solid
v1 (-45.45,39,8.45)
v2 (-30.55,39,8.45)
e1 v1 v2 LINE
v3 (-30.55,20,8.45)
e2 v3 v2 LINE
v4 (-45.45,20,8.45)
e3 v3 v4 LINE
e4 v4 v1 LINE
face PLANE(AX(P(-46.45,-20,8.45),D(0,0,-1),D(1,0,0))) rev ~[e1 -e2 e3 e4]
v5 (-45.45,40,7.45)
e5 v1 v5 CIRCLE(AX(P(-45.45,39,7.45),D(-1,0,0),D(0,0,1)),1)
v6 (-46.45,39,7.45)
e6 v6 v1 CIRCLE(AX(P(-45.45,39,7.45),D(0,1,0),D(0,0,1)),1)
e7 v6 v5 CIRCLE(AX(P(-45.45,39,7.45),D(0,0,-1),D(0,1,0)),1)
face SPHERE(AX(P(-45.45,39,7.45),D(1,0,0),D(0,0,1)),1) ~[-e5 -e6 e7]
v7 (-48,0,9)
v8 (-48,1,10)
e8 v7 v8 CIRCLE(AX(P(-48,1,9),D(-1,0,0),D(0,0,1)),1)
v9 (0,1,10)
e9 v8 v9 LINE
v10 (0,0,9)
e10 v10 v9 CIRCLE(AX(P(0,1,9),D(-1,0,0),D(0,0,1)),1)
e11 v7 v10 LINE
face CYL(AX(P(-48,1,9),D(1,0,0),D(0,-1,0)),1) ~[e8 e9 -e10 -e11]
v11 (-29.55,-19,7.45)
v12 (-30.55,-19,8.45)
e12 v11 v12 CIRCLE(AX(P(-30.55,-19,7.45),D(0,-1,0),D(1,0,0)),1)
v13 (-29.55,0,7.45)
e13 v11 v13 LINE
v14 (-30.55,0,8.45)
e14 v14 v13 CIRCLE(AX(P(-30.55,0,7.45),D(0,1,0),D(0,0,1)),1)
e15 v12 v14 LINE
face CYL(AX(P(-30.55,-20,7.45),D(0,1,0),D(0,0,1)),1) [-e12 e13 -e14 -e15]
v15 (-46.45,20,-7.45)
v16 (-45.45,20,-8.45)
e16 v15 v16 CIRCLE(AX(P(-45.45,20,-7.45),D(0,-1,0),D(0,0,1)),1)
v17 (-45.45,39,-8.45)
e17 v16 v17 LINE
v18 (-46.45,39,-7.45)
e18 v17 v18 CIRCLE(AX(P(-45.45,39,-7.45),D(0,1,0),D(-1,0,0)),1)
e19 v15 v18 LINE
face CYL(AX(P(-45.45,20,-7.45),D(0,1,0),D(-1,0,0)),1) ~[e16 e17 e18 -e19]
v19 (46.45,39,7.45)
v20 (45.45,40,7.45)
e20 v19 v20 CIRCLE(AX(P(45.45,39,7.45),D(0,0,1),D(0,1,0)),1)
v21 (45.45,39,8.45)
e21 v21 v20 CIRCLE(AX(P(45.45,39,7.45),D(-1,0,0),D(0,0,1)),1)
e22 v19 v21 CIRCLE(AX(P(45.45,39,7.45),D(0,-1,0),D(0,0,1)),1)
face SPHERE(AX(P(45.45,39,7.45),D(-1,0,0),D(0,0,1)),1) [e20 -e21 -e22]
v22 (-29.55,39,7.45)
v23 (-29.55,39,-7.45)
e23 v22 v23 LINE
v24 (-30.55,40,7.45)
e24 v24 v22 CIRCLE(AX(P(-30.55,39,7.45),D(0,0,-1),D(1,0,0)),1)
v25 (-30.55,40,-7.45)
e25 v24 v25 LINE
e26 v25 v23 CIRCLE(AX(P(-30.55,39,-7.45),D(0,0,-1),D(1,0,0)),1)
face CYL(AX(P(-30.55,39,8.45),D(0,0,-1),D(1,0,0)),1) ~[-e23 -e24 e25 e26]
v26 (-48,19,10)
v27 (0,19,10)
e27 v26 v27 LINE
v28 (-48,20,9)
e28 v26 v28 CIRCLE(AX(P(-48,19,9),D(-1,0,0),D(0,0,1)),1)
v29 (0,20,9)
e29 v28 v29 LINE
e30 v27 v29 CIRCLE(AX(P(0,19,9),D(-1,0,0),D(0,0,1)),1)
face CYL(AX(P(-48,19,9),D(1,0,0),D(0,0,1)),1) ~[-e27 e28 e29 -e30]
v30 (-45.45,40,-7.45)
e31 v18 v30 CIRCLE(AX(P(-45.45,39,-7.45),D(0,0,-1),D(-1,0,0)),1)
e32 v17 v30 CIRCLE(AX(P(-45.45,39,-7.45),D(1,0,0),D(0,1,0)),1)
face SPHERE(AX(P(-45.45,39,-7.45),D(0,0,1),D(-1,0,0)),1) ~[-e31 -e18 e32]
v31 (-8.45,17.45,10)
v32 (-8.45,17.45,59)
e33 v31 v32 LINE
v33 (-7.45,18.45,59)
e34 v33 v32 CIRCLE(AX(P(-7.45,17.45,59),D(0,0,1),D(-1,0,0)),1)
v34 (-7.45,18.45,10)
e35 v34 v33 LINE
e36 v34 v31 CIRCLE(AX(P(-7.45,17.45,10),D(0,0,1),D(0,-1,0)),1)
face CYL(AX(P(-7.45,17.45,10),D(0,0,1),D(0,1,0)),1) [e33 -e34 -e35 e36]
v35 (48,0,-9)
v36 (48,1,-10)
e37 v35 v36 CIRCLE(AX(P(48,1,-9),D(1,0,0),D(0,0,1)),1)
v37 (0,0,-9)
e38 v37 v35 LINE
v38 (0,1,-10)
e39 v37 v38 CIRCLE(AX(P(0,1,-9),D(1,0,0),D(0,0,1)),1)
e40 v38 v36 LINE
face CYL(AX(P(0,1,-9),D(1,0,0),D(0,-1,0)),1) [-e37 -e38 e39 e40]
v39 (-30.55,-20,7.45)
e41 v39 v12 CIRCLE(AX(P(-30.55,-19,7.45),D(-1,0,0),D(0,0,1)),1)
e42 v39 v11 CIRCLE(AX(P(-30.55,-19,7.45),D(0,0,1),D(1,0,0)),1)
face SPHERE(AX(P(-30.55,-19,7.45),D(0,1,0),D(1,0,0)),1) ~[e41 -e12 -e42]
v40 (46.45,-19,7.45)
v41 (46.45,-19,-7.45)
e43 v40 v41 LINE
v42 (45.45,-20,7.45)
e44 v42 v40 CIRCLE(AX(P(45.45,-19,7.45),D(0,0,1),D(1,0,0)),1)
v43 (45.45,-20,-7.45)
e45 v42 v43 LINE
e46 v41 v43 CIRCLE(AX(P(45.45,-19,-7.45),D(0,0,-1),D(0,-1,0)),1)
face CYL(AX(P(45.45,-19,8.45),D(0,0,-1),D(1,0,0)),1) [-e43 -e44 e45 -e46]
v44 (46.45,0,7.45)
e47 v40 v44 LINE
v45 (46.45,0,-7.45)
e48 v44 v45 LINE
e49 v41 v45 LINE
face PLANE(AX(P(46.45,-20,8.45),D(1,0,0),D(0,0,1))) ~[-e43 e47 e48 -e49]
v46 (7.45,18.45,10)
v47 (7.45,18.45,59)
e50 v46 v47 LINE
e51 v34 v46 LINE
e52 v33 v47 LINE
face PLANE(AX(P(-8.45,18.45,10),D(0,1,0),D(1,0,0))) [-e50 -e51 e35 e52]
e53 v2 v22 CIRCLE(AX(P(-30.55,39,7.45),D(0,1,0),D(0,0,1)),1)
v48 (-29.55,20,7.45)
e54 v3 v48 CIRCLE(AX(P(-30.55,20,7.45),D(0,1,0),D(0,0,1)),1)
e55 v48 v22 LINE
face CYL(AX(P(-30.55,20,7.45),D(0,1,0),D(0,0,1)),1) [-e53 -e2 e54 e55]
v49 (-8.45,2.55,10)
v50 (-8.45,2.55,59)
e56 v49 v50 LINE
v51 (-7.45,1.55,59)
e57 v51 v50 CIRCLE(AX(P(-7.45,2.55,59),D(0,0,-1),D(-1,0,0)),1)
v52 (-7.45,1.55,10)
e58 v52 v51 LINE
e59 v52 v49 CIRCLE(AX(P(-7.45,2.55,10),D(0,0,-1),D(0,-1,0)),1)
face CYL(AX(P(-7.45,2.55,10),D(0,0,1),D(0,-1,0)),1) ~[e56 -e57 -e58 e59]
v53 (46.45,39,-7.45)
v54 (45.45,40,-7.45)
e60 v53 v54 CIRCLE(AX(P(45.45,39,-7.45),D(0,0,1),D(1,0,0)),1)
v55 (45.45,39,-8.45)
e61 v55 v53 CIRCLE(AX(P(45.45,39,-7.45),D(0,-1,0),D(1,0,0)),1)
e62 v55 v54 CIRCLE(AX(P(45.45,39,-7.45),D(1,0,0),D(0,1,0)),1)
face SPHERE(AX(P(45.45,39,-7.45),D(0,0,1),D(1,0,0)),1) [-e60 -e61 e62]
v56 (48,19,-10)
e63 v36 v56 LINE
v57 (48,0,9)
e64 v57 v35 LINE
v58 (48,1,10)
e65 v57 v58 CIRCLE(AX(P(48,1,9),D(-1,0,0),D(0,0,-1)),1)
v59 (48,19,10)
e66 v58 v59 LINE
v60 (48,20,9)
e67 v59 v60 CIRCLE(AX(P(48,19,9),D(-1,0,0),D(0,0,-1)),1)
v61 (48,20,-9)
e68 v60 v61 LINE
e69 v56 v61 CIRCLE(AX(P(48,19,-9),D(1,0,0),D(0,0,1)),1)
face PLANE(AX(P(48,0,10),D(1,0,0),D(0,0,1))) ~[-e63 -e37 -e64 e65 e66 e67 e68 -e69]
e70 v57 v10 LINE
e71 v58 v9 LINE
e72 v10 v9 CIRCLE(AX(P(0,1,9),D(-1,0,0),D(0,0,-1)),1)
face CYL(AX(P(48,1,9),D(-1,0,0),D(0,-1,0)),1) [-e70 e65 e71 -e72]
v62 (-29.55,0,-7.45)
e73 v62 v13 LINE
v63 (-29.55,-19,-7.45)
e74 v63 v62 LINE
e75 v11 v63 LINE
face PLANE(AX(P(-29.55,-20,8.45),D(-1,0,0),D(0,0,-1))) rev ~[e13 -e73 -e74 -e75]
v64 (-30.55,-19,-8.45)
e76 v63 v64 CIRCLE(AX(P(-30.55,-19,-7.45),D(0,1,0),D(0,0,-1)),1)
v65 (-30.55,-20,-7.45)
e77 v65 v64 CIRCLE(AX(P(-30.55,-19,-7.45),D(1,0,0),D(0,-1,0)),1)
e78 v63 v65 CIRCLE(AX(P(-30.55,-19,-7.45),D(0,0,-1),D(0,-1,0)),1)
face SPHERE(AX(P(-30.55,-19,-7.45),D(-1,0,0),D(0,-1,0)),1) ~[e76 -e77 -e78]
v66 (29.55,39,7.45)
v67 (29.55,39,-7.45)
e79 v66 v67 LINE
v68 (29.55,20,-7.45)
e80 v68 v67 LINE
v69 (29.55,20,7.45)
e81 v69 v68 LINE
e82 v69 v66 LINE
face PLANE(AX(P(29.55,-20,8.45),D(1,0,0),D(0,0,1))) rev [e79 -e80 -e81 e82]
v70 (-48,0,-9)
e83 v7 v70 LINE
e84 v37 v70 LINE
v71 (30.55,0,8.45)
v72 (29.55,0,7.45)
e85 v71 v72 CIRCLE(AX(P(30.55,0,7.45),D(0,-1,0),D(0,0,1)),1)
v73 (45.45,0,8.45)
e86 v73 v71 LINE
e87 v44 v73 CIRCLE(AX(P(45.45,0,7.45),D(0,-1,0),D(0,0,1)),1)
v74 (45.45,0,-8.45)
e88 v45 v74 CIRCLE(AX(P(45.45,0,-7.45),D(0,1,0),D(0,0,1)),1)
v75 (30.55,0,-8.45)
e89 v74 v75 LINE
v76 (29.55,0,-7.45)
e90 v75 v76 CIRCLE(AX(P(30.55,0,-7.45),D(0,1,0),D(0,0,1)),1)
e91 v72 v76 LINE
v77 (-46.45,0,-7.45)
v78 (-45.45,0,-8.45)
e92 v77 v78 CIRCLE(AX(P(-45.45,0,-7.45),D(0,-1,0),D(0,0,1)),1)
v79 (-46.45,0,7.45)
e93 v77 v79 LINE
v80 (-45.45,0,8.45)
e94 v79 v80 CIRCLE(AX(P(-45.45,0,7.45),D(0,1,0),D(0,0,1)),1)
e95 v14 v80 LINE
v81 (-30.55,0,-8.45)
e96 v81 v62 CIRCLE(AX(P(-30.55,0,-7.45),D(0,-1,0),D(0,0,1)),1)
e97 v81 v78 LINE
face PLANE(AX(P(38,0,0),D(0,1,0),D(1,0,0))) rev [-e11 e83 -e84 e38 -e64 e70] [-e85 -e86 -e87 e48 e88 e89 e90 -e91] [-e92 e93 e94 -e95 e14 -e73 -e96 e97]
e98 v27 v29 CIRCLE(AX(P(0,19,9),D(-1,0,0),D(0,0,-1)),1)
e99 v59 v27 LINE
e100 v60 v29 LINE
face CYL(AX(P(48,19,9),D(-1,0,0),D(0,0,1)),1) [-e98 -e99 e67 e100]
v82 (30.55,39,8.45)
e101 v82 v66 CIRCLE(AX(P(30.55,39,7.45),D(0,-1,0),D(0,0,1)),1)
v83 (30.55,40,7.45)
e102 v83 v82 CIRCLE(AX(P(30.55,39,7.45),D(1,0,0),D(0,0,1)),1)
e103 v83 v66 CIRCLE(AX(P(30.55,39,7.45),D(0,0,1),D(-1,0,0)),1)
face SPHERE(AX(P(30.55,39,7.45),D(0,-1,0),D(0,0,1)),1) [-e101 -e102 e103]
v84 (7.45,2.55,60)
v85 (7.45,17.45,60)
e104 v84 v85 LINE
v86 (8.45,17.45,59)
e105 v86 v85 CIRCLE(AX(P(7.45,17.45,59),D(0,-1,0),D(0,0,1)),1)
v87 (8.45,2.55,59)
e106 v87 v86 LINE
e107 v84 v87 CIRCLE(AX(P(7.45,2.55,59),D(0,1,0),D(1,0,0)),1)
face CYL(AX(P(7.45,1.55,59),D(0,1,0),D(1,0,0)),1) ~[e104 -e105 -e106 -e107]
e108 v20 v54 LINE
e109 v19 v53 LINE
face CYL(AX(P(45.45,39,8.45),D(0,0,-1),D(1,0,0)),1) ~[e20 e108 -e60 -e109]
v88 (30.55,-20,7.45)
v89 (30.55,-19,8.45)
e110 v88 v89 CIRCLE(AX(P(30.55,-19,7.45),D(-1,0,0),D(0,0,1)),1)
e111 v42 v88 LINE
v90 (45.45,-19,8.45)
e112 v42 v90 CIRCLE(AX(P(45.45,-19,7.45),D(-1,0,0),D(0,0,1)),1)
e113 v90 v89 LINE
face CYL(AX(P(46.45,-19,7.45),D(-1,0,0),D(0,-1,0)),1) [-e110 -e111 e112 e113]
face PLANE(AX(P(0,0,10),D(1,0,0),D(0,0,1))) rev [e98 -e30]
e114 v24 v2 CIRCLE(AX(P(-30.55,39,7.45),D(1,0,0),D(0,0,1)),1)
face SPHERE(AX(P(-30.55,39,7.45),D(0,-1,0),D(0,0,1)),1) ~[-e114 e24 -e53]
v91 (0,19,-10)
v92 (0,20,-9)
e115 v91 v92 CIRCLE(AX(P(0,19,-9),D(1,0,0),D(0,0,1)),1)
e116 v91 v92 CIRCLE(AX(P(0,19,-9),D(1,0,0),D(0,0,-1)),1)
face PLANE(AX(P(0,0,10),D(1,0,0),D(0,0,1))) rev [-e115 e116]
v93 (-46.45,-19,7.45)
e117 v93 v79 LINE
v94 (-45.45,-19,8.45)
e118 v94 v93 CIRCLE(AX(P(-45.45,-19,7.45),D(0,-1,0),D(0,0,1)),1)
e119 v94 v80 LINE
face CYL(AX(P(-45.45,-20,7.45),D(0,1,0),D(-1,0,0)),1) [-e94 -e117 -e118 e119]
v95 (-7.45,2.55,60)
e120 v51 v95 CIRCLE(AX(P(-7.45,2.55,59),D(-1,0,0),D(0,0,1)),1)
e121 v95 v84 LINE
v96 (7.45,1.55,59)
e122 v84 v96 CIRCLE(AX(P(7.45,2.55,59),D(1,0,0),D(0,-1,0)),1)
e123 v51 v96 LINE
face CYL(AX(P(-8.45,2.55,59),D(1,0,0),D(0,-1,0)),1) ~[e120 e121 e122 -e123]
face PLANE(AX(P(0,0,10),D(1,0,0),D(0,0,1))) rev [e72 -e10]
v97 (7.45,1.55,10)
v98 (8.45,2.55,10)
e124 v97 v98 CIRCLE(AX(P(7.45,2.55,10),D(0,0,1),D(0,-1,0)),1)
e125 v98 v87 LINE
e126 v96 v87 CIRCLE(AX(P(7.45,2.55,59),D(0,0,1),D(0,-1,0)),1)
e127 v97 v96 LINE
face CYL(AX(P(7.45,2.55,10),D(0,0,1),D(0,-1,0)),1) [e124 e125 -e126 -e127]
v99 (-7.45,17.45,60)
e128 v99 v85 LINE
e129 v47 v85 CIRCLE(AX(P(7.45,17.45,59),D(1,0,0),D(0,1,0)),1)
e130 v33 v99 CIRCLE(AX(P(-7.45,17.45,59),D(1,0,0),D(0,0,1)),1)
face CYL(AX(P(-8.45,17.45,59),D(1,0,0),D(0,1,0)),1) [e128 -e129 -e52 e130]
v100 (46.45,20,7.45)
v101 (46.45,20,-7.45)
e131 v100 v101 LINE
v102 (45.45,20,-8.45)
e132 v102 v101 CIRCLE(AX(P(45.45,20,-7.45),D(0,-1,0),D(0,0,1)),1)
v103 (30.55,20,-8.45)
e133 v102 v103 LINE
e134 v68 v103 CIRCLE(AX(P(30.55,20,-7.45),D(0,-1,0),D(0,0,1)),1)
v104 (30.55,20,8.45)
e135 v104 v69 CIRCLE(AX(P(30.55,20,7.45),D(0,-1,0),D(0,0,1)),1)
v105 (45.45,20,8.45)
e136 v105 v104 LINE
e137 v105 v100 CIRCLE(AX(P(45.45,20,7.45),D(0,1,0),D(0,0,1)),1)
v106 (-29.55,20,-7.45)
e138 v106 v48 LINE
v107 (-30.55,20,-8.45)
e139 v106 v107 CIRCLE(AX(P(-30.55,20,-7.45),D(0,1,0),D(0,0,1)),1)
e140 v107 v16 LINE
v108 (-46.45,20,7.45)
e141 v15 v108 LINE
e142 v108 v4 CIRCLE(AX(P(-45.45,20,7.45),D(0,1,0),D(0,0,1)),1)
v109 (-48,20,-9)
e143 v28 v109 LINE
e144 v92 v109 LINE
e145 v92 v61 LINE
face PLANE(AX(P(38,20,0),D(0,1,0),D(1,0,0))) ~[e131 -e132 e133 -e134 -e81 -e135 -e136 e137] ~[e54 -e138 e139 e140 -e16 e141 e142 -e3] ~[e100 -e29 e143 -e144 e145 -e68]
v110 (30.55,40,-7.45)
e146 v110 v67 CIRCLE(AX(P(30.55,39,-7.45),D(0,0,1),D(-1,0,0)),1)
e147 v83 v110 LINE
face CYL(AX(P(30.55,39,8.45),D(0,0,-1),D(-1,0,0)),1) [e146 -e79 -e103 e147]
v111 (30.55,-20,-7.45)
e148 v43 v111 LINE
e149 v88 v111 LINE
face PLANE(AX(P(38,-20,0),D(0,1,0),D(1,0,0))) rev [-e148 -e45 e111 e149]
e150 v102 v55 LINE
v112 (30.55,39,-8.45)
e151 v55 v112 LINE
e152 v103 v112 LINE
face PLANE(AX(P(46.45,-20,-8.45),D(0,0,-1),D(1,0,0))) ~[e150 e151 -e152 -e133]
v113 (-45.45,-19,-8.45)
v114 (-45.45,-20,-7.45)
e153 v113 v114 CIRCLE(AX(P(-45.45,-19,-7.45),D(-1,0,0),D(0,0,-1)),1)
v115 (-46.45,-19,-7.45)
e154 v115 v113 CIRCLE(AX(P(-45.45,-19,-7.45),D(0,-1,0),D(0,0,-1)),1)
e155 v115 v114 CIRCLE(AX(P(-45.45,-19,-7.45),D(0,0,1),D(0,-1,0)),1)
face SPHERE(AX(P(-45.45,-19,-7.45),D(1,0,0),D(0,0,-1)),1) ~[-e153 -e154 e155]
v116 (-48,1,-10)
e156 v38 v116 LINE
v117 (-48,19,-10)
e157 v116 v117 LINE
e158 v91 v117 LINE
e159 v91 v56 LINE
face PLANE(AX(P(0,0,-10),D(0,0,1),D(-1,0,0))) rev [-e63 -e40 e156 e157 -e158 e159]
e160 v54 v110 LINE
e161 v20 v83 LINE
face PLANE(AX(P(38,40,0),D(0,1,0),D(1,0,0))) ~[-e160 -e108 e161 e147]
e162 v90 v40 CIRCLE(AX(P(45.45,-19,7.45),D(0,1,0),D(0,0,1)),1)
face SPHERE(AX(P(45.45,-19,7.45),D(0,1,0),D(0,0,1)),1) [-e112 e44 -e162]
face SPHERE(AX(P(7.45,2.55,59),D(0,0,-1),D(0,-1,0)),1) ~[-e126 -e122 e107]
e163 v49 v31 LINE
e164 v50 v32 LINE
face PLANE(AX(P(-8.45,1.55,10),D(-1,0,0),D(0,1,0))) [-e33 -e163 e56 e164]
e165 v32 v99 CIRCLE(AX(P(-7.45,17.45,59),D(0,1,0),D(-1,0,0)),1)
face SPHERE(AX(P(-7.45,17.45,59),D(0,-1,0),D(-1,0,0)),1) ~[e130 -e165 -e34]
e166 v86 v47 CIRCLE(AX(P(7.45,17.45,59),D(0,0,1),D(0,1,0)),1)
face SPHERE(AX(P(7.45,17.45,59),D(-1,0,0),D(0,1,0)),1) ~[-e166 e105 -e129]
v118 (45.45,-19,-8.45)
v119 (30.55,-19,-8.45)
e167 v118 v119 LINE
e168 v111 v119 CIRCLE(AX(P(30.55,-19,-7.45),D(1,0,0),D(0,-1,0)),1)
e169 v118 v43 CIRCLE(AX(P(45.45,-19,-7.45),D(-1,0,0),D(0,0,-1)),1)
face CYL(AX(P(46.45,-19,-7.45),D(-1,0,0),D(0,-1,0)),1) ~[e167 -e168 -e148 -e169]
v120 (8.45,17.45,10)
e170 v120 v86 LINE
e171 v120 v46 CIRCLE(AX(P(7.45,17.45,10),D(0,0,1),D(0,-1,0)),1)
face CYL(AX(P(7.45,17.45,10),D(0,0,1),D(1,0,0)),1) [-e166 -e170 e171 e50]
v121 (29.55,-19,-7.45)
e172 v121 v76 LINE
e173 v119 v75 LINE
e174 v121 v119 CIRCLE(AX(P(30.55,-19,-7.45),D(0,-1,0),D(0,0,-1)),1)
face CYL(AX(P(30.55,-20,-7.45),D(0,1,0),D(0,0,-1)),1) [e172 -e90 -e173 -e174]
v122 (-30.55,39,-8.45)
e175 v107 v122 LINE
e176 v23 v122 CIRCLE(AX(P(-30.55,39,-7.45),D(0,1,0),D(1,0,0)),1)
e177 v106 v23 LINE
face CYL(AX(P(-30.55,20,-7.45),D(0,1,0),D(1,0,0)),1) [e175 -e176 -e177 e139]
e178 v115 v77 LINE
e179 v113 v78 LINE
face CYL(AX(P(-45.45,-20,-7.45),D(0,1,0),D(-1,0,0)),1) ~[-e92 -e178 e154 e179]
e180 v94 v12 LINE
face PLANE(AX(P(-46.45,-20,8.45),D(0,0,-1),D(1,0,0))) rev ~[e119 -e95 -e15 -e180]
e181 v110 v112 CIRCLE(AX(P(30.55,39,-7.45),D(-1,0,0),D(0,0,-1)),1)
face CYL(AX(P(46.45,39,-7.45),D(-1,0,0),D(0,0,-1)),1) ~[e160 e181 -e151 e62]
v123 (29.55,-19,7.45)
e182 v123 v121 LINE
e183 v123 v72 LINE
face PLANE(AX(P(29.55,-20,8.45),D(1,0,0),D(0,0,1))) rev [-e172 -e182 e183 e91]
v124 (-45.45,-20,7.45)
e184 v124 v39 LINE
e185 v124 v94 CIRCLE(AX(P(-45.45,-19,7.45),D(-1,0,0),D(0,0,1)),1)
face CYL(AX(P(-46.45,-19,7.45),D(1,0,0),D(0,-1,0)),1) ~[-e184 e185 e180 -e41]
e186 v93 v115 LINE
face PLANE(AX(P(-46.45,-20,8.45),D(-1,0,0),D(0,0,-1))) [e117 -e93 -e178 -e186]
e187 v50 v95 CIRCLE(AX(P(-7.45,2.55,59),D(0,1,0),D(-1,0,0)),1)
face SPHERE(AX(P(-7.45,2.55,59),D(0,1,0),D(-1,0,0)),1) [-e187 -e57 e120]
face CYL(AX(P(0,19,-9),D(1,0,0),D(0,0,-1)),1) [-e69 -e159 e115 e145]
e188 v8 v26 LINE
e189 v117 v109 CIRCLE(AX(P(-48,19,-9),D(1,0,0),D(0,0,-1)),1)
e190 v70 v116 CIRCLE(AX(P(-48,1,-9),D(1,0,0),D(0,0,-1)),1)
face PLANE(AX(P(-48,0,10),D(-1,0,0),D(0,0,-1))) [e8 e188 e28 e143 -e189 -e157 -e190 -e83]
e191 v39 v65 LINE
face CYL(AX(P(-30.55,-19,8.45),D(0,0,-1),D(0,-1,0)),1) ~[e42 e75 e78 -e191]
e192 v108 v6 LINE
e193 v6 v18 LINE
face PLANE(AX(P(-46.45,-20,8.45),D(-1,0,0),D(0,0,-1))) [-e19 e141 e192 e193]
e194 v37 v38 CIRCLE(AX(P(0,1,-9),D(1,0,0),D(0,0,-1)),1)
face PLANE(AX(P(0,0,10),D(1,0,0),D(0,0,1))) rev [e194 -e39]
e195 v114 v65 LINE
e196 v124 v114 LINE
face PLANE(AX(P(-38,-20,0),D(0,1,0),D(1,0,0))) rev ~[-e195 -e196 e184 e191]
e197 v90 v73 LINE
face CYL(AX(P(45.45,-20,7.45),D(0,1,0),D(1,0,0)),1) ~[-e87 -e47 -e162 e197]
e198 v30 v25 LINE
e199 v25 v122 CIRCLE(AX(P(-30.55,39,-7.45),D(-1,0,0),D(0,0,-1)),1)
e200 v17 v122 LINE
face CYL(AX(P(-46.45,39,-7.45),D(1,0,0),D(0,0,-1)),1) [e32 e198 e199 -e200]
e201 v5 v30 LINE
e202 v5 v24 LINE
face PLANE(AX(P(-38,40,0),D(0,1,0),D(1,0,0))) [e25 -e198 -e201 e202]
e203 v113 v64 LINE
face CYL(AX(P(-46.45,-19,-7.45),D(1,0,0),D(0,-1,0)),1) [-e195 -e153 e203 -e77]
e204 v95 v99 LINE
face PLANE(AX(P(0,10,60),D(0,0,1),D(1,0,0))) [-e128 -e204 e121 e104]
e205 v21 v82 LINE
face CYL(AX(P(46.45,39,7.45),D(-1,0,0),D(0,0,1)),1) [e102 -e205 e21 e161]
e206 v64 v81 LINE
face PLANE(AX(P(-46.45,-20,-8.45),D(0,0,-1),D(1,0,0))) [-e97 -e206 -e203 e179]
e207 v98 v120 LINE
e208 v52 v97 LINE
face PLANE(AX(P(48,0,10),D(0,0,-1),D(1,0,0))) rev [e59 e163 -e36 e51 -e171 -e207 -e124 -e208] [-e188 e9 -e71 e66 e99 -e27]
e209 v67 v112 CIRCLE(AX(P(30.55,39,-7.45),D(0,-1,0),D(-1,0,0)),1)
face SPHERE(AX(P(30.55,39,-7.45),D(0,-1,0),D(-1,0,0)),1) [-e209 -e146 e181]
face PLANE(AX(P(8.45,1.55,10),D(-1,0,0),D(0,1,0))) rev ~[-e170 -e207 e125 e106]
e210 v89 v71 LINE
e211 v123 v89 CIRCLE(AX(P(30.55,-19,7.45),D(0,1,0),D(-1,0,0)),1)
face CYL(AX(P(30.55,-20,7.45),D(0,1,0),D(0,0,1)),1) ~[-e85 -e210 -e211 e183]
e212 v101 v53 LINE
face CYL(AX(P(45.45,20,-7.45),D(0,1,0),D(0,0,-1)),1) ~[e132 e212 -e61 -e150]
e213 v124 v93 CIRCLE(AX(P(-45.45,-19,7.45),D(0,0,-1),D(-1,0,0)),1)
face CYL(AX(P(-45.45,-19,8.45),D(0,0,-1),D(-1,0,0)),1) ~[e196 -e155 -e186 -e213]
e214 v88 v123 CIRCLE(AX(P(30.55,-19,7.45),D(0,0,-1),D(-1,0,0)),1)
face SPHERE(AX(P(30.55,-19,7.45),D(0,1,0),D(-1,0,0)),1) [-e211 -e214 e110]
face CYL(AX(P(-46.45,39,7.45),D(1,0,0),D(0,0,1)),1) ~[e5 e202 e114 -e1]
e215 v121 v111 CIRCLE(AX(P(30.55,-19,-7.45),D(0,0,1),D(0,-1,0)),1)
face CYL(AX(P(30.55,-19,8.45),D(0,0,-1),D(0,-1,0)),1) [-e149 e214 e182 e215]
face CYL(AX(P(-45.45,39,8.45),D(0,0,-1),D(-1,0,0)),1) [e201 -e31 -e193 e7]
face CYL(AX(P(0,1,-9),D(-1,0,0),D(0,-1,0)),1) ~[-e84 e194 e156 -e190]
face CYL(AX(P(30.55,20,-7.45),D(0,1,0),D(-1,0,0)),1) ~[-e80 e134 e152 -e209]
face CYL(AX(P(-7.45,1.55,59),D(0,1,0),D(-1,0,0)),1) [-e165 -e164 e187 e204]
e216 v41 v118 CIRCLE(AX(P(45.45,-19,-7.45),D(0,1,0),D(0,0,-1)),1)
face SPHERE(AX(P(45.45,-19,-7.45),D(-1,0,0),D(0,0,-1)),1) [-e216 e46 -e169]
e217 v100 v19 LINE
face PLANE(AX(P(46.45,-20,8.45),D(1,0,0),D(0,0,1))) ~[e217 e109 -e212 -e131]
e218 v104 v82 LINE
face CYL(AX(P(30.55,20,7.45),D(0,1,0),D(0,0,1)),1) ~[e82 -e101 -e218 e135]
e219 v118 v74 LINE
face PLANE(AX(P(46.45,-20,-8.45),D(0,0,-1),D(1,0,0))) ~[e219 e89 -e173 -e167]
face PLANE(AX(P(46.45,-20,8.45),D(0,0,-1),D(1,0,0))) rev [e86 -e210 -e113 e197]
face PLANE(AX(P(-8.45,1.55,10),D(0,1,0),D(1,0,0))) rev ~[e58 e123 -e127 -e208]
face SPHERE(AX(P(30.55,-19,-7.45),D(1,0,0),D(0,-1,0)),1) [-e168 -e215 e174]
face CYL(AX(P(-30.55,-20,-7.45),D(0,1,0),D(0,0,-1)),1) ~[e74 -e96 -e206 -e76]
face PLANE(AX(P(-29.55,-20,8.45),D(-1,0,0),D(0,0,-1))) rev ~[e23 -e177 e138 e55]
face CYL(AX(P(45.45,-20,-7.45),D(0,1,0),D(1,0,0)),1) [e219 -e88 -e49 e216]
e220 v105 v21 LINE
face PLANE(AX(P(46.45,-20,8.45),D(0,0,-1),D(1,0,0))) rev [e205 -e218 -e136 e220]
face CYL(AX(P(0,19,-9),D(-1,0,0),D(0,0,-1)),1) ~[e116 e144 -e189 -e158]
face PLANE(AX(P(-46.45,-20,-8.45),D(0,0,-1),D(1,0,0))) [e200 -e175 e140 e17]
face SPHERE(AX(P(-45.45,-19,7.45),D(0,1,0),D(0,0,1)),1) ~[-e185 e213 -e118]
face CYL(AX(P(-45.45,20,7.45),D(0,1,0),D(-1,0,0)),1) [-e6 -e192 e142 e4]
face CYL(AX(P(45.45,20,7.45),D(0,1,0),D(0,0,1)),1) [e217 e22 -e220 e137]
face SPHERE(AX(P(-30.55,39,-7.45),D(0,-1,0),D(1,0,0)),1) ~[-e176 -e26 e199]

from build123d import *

# Parameters (mm, degrees)
SKETCH1_W            = 48
SKETCH1_H            = 20
BOSS_EXTRUDE3_DEPTH  = 20
BOSS_EXTRUDE4_START  = -20
SKETCH1_6_W          = 16.9
SKETCH1_6_H          = 16.9
BOSS_EXTRUDE4_DEPTH  = 60
FILLET2_R            = 1
FILLET2_OF_MIRROR1_R = 1
SKETCH3_W            = 16.9
SKETCH3_H            = 16.9
BOSS_EXTRUDE5_DEPTH  = 50
FILLET3_R            = 1


with BuildPart() as part:
    # Sketch1 → Boss-Extrude3 (new body)
    with BuildSketch(Plane(origin=(0, 0, 0), x_dir=(1, 0, 0), z_dir=(0, 1, 0))):
        with Locations((-24, 0)):
            Rectangle(SKETCH1_W, SKETCH1_H)
    boss_extrude3 = extrude(amount=BOSS_EXTRUDE3_DEPTH)

    # Sketch1_6 → Boss-Extrude4 (add)
    with BuildSketch(Plane(origin=(0, 0, 0), x_dir=(1, 0, 0), z_dir=(0, 1, 0)).offset(BOSS_EXTRUDE4_START)):
        with Locations((-38, 0)):
            Rectangle(SKETCH1_6_W, SKETCH1_6_H)
    boss_extrude4 = extrude(amount=BOSS_EXTRUDE4_DEPTH)

    # Fillet2
    fillet2_edges = [part.edges().sort_by_distance(p)[0] for p in [
        (-29.55, 30, -8.45),
        (-46.45, 30, 8.45),
        (-46.45, 30, -8.45),
        (-46.45, 40, 0),
        (-29.55, 40, 0),
        (-38, 40, -8.45),
        (-38, 40, 8.45),
        (-29.55, 30, 8.45),
        (-29.55, -10, -8.45),
        (-29.55, -10, 8.45),
        (-29.55, -20, 0),
        (-38, -20, -8.45),
        (-38, -20, 8.45),
        (-46.45, -20, 0),
        (-46.45, -10, -8.45),
        (-46.45, -10, 8.45),
        (-24, 20, -10),
        (-24, 0, -10),
        (-24, 0, 10),
        (-24, 20, 10),
    ]]
    fillet(fillet2_edges, radius=FILLET2_R)

    # Mirror1: Boss-Extrude3, Boss-Extrude4 across plane
    add(boss_extrude3.mirror(Plane(origin=(0, 20, 0), x_dir=(0, 0, 1), z_dir=(1, 0, 0))))
    add(boss_extrude4.mirror(Plane(origin=(0, 20, 0), x_dir=(0, 0, 1), z_dir=(1, 0, 0))))

    # Fillet2 of Mirror1
    fillet2_of_mirror1_edges = [part.edges().sort_by_distance(p)[0] for p in [
        (29.55, 30, -8.45),
        (46.45, 30, 8.45),
        (46.45, 30, -8.45),
        (46.45, 40, 0),
        (29.55, 40, 0),
        (38, 40, -8.45),
        (38, 40, 8.45),
        (29.55, 30, 8.45),
        (29.55, -10, -8.45),
        (29.55, -10, 8.45),
        (29.55, -20, 0),
        (38, -20, -8.45),
        (38, -20, 8.45),
        (46.45, -20, 0),
        (46.45, -10, -8.45),
        (46.45, -10, 8.45),
        (24, 20, -10),
        (24, 0, -10),
        (24, 0, 10),
        (24, 20, 10),
    ]]
    fillet(fillet2_of_mirror1_edges, radius=FILLET2_OF_MIRROR1_R)

    # Sketch3 → Boss-Extrude5 (add)
    with BuildSketch(Plane.XY.offset(10)):
        with Locations((0, 10)):
            Rectangle(SKETCH3_W, SKETCH3_H)
    extrude(amount=BOSS_EXTRUDE5_DEPTH)

    # Fillet3
    fillet3_edges = [part.edges().sort_by_distance(p)[0] for p in [
        (8.45, 1.55, 35),
        (-8.45, 1.55, 35),
        (0, 1.55, 60),
        (-8.45, 10, 60),
        (8.45, 10, 60),
        (0, 18.45, 60),
        (8.45, 18.45, 35),
        (-8.45, 18.45, 35),
    ]]
    fillet(fillet3_edges, radius=FILLET3_R)


solid = part.part
